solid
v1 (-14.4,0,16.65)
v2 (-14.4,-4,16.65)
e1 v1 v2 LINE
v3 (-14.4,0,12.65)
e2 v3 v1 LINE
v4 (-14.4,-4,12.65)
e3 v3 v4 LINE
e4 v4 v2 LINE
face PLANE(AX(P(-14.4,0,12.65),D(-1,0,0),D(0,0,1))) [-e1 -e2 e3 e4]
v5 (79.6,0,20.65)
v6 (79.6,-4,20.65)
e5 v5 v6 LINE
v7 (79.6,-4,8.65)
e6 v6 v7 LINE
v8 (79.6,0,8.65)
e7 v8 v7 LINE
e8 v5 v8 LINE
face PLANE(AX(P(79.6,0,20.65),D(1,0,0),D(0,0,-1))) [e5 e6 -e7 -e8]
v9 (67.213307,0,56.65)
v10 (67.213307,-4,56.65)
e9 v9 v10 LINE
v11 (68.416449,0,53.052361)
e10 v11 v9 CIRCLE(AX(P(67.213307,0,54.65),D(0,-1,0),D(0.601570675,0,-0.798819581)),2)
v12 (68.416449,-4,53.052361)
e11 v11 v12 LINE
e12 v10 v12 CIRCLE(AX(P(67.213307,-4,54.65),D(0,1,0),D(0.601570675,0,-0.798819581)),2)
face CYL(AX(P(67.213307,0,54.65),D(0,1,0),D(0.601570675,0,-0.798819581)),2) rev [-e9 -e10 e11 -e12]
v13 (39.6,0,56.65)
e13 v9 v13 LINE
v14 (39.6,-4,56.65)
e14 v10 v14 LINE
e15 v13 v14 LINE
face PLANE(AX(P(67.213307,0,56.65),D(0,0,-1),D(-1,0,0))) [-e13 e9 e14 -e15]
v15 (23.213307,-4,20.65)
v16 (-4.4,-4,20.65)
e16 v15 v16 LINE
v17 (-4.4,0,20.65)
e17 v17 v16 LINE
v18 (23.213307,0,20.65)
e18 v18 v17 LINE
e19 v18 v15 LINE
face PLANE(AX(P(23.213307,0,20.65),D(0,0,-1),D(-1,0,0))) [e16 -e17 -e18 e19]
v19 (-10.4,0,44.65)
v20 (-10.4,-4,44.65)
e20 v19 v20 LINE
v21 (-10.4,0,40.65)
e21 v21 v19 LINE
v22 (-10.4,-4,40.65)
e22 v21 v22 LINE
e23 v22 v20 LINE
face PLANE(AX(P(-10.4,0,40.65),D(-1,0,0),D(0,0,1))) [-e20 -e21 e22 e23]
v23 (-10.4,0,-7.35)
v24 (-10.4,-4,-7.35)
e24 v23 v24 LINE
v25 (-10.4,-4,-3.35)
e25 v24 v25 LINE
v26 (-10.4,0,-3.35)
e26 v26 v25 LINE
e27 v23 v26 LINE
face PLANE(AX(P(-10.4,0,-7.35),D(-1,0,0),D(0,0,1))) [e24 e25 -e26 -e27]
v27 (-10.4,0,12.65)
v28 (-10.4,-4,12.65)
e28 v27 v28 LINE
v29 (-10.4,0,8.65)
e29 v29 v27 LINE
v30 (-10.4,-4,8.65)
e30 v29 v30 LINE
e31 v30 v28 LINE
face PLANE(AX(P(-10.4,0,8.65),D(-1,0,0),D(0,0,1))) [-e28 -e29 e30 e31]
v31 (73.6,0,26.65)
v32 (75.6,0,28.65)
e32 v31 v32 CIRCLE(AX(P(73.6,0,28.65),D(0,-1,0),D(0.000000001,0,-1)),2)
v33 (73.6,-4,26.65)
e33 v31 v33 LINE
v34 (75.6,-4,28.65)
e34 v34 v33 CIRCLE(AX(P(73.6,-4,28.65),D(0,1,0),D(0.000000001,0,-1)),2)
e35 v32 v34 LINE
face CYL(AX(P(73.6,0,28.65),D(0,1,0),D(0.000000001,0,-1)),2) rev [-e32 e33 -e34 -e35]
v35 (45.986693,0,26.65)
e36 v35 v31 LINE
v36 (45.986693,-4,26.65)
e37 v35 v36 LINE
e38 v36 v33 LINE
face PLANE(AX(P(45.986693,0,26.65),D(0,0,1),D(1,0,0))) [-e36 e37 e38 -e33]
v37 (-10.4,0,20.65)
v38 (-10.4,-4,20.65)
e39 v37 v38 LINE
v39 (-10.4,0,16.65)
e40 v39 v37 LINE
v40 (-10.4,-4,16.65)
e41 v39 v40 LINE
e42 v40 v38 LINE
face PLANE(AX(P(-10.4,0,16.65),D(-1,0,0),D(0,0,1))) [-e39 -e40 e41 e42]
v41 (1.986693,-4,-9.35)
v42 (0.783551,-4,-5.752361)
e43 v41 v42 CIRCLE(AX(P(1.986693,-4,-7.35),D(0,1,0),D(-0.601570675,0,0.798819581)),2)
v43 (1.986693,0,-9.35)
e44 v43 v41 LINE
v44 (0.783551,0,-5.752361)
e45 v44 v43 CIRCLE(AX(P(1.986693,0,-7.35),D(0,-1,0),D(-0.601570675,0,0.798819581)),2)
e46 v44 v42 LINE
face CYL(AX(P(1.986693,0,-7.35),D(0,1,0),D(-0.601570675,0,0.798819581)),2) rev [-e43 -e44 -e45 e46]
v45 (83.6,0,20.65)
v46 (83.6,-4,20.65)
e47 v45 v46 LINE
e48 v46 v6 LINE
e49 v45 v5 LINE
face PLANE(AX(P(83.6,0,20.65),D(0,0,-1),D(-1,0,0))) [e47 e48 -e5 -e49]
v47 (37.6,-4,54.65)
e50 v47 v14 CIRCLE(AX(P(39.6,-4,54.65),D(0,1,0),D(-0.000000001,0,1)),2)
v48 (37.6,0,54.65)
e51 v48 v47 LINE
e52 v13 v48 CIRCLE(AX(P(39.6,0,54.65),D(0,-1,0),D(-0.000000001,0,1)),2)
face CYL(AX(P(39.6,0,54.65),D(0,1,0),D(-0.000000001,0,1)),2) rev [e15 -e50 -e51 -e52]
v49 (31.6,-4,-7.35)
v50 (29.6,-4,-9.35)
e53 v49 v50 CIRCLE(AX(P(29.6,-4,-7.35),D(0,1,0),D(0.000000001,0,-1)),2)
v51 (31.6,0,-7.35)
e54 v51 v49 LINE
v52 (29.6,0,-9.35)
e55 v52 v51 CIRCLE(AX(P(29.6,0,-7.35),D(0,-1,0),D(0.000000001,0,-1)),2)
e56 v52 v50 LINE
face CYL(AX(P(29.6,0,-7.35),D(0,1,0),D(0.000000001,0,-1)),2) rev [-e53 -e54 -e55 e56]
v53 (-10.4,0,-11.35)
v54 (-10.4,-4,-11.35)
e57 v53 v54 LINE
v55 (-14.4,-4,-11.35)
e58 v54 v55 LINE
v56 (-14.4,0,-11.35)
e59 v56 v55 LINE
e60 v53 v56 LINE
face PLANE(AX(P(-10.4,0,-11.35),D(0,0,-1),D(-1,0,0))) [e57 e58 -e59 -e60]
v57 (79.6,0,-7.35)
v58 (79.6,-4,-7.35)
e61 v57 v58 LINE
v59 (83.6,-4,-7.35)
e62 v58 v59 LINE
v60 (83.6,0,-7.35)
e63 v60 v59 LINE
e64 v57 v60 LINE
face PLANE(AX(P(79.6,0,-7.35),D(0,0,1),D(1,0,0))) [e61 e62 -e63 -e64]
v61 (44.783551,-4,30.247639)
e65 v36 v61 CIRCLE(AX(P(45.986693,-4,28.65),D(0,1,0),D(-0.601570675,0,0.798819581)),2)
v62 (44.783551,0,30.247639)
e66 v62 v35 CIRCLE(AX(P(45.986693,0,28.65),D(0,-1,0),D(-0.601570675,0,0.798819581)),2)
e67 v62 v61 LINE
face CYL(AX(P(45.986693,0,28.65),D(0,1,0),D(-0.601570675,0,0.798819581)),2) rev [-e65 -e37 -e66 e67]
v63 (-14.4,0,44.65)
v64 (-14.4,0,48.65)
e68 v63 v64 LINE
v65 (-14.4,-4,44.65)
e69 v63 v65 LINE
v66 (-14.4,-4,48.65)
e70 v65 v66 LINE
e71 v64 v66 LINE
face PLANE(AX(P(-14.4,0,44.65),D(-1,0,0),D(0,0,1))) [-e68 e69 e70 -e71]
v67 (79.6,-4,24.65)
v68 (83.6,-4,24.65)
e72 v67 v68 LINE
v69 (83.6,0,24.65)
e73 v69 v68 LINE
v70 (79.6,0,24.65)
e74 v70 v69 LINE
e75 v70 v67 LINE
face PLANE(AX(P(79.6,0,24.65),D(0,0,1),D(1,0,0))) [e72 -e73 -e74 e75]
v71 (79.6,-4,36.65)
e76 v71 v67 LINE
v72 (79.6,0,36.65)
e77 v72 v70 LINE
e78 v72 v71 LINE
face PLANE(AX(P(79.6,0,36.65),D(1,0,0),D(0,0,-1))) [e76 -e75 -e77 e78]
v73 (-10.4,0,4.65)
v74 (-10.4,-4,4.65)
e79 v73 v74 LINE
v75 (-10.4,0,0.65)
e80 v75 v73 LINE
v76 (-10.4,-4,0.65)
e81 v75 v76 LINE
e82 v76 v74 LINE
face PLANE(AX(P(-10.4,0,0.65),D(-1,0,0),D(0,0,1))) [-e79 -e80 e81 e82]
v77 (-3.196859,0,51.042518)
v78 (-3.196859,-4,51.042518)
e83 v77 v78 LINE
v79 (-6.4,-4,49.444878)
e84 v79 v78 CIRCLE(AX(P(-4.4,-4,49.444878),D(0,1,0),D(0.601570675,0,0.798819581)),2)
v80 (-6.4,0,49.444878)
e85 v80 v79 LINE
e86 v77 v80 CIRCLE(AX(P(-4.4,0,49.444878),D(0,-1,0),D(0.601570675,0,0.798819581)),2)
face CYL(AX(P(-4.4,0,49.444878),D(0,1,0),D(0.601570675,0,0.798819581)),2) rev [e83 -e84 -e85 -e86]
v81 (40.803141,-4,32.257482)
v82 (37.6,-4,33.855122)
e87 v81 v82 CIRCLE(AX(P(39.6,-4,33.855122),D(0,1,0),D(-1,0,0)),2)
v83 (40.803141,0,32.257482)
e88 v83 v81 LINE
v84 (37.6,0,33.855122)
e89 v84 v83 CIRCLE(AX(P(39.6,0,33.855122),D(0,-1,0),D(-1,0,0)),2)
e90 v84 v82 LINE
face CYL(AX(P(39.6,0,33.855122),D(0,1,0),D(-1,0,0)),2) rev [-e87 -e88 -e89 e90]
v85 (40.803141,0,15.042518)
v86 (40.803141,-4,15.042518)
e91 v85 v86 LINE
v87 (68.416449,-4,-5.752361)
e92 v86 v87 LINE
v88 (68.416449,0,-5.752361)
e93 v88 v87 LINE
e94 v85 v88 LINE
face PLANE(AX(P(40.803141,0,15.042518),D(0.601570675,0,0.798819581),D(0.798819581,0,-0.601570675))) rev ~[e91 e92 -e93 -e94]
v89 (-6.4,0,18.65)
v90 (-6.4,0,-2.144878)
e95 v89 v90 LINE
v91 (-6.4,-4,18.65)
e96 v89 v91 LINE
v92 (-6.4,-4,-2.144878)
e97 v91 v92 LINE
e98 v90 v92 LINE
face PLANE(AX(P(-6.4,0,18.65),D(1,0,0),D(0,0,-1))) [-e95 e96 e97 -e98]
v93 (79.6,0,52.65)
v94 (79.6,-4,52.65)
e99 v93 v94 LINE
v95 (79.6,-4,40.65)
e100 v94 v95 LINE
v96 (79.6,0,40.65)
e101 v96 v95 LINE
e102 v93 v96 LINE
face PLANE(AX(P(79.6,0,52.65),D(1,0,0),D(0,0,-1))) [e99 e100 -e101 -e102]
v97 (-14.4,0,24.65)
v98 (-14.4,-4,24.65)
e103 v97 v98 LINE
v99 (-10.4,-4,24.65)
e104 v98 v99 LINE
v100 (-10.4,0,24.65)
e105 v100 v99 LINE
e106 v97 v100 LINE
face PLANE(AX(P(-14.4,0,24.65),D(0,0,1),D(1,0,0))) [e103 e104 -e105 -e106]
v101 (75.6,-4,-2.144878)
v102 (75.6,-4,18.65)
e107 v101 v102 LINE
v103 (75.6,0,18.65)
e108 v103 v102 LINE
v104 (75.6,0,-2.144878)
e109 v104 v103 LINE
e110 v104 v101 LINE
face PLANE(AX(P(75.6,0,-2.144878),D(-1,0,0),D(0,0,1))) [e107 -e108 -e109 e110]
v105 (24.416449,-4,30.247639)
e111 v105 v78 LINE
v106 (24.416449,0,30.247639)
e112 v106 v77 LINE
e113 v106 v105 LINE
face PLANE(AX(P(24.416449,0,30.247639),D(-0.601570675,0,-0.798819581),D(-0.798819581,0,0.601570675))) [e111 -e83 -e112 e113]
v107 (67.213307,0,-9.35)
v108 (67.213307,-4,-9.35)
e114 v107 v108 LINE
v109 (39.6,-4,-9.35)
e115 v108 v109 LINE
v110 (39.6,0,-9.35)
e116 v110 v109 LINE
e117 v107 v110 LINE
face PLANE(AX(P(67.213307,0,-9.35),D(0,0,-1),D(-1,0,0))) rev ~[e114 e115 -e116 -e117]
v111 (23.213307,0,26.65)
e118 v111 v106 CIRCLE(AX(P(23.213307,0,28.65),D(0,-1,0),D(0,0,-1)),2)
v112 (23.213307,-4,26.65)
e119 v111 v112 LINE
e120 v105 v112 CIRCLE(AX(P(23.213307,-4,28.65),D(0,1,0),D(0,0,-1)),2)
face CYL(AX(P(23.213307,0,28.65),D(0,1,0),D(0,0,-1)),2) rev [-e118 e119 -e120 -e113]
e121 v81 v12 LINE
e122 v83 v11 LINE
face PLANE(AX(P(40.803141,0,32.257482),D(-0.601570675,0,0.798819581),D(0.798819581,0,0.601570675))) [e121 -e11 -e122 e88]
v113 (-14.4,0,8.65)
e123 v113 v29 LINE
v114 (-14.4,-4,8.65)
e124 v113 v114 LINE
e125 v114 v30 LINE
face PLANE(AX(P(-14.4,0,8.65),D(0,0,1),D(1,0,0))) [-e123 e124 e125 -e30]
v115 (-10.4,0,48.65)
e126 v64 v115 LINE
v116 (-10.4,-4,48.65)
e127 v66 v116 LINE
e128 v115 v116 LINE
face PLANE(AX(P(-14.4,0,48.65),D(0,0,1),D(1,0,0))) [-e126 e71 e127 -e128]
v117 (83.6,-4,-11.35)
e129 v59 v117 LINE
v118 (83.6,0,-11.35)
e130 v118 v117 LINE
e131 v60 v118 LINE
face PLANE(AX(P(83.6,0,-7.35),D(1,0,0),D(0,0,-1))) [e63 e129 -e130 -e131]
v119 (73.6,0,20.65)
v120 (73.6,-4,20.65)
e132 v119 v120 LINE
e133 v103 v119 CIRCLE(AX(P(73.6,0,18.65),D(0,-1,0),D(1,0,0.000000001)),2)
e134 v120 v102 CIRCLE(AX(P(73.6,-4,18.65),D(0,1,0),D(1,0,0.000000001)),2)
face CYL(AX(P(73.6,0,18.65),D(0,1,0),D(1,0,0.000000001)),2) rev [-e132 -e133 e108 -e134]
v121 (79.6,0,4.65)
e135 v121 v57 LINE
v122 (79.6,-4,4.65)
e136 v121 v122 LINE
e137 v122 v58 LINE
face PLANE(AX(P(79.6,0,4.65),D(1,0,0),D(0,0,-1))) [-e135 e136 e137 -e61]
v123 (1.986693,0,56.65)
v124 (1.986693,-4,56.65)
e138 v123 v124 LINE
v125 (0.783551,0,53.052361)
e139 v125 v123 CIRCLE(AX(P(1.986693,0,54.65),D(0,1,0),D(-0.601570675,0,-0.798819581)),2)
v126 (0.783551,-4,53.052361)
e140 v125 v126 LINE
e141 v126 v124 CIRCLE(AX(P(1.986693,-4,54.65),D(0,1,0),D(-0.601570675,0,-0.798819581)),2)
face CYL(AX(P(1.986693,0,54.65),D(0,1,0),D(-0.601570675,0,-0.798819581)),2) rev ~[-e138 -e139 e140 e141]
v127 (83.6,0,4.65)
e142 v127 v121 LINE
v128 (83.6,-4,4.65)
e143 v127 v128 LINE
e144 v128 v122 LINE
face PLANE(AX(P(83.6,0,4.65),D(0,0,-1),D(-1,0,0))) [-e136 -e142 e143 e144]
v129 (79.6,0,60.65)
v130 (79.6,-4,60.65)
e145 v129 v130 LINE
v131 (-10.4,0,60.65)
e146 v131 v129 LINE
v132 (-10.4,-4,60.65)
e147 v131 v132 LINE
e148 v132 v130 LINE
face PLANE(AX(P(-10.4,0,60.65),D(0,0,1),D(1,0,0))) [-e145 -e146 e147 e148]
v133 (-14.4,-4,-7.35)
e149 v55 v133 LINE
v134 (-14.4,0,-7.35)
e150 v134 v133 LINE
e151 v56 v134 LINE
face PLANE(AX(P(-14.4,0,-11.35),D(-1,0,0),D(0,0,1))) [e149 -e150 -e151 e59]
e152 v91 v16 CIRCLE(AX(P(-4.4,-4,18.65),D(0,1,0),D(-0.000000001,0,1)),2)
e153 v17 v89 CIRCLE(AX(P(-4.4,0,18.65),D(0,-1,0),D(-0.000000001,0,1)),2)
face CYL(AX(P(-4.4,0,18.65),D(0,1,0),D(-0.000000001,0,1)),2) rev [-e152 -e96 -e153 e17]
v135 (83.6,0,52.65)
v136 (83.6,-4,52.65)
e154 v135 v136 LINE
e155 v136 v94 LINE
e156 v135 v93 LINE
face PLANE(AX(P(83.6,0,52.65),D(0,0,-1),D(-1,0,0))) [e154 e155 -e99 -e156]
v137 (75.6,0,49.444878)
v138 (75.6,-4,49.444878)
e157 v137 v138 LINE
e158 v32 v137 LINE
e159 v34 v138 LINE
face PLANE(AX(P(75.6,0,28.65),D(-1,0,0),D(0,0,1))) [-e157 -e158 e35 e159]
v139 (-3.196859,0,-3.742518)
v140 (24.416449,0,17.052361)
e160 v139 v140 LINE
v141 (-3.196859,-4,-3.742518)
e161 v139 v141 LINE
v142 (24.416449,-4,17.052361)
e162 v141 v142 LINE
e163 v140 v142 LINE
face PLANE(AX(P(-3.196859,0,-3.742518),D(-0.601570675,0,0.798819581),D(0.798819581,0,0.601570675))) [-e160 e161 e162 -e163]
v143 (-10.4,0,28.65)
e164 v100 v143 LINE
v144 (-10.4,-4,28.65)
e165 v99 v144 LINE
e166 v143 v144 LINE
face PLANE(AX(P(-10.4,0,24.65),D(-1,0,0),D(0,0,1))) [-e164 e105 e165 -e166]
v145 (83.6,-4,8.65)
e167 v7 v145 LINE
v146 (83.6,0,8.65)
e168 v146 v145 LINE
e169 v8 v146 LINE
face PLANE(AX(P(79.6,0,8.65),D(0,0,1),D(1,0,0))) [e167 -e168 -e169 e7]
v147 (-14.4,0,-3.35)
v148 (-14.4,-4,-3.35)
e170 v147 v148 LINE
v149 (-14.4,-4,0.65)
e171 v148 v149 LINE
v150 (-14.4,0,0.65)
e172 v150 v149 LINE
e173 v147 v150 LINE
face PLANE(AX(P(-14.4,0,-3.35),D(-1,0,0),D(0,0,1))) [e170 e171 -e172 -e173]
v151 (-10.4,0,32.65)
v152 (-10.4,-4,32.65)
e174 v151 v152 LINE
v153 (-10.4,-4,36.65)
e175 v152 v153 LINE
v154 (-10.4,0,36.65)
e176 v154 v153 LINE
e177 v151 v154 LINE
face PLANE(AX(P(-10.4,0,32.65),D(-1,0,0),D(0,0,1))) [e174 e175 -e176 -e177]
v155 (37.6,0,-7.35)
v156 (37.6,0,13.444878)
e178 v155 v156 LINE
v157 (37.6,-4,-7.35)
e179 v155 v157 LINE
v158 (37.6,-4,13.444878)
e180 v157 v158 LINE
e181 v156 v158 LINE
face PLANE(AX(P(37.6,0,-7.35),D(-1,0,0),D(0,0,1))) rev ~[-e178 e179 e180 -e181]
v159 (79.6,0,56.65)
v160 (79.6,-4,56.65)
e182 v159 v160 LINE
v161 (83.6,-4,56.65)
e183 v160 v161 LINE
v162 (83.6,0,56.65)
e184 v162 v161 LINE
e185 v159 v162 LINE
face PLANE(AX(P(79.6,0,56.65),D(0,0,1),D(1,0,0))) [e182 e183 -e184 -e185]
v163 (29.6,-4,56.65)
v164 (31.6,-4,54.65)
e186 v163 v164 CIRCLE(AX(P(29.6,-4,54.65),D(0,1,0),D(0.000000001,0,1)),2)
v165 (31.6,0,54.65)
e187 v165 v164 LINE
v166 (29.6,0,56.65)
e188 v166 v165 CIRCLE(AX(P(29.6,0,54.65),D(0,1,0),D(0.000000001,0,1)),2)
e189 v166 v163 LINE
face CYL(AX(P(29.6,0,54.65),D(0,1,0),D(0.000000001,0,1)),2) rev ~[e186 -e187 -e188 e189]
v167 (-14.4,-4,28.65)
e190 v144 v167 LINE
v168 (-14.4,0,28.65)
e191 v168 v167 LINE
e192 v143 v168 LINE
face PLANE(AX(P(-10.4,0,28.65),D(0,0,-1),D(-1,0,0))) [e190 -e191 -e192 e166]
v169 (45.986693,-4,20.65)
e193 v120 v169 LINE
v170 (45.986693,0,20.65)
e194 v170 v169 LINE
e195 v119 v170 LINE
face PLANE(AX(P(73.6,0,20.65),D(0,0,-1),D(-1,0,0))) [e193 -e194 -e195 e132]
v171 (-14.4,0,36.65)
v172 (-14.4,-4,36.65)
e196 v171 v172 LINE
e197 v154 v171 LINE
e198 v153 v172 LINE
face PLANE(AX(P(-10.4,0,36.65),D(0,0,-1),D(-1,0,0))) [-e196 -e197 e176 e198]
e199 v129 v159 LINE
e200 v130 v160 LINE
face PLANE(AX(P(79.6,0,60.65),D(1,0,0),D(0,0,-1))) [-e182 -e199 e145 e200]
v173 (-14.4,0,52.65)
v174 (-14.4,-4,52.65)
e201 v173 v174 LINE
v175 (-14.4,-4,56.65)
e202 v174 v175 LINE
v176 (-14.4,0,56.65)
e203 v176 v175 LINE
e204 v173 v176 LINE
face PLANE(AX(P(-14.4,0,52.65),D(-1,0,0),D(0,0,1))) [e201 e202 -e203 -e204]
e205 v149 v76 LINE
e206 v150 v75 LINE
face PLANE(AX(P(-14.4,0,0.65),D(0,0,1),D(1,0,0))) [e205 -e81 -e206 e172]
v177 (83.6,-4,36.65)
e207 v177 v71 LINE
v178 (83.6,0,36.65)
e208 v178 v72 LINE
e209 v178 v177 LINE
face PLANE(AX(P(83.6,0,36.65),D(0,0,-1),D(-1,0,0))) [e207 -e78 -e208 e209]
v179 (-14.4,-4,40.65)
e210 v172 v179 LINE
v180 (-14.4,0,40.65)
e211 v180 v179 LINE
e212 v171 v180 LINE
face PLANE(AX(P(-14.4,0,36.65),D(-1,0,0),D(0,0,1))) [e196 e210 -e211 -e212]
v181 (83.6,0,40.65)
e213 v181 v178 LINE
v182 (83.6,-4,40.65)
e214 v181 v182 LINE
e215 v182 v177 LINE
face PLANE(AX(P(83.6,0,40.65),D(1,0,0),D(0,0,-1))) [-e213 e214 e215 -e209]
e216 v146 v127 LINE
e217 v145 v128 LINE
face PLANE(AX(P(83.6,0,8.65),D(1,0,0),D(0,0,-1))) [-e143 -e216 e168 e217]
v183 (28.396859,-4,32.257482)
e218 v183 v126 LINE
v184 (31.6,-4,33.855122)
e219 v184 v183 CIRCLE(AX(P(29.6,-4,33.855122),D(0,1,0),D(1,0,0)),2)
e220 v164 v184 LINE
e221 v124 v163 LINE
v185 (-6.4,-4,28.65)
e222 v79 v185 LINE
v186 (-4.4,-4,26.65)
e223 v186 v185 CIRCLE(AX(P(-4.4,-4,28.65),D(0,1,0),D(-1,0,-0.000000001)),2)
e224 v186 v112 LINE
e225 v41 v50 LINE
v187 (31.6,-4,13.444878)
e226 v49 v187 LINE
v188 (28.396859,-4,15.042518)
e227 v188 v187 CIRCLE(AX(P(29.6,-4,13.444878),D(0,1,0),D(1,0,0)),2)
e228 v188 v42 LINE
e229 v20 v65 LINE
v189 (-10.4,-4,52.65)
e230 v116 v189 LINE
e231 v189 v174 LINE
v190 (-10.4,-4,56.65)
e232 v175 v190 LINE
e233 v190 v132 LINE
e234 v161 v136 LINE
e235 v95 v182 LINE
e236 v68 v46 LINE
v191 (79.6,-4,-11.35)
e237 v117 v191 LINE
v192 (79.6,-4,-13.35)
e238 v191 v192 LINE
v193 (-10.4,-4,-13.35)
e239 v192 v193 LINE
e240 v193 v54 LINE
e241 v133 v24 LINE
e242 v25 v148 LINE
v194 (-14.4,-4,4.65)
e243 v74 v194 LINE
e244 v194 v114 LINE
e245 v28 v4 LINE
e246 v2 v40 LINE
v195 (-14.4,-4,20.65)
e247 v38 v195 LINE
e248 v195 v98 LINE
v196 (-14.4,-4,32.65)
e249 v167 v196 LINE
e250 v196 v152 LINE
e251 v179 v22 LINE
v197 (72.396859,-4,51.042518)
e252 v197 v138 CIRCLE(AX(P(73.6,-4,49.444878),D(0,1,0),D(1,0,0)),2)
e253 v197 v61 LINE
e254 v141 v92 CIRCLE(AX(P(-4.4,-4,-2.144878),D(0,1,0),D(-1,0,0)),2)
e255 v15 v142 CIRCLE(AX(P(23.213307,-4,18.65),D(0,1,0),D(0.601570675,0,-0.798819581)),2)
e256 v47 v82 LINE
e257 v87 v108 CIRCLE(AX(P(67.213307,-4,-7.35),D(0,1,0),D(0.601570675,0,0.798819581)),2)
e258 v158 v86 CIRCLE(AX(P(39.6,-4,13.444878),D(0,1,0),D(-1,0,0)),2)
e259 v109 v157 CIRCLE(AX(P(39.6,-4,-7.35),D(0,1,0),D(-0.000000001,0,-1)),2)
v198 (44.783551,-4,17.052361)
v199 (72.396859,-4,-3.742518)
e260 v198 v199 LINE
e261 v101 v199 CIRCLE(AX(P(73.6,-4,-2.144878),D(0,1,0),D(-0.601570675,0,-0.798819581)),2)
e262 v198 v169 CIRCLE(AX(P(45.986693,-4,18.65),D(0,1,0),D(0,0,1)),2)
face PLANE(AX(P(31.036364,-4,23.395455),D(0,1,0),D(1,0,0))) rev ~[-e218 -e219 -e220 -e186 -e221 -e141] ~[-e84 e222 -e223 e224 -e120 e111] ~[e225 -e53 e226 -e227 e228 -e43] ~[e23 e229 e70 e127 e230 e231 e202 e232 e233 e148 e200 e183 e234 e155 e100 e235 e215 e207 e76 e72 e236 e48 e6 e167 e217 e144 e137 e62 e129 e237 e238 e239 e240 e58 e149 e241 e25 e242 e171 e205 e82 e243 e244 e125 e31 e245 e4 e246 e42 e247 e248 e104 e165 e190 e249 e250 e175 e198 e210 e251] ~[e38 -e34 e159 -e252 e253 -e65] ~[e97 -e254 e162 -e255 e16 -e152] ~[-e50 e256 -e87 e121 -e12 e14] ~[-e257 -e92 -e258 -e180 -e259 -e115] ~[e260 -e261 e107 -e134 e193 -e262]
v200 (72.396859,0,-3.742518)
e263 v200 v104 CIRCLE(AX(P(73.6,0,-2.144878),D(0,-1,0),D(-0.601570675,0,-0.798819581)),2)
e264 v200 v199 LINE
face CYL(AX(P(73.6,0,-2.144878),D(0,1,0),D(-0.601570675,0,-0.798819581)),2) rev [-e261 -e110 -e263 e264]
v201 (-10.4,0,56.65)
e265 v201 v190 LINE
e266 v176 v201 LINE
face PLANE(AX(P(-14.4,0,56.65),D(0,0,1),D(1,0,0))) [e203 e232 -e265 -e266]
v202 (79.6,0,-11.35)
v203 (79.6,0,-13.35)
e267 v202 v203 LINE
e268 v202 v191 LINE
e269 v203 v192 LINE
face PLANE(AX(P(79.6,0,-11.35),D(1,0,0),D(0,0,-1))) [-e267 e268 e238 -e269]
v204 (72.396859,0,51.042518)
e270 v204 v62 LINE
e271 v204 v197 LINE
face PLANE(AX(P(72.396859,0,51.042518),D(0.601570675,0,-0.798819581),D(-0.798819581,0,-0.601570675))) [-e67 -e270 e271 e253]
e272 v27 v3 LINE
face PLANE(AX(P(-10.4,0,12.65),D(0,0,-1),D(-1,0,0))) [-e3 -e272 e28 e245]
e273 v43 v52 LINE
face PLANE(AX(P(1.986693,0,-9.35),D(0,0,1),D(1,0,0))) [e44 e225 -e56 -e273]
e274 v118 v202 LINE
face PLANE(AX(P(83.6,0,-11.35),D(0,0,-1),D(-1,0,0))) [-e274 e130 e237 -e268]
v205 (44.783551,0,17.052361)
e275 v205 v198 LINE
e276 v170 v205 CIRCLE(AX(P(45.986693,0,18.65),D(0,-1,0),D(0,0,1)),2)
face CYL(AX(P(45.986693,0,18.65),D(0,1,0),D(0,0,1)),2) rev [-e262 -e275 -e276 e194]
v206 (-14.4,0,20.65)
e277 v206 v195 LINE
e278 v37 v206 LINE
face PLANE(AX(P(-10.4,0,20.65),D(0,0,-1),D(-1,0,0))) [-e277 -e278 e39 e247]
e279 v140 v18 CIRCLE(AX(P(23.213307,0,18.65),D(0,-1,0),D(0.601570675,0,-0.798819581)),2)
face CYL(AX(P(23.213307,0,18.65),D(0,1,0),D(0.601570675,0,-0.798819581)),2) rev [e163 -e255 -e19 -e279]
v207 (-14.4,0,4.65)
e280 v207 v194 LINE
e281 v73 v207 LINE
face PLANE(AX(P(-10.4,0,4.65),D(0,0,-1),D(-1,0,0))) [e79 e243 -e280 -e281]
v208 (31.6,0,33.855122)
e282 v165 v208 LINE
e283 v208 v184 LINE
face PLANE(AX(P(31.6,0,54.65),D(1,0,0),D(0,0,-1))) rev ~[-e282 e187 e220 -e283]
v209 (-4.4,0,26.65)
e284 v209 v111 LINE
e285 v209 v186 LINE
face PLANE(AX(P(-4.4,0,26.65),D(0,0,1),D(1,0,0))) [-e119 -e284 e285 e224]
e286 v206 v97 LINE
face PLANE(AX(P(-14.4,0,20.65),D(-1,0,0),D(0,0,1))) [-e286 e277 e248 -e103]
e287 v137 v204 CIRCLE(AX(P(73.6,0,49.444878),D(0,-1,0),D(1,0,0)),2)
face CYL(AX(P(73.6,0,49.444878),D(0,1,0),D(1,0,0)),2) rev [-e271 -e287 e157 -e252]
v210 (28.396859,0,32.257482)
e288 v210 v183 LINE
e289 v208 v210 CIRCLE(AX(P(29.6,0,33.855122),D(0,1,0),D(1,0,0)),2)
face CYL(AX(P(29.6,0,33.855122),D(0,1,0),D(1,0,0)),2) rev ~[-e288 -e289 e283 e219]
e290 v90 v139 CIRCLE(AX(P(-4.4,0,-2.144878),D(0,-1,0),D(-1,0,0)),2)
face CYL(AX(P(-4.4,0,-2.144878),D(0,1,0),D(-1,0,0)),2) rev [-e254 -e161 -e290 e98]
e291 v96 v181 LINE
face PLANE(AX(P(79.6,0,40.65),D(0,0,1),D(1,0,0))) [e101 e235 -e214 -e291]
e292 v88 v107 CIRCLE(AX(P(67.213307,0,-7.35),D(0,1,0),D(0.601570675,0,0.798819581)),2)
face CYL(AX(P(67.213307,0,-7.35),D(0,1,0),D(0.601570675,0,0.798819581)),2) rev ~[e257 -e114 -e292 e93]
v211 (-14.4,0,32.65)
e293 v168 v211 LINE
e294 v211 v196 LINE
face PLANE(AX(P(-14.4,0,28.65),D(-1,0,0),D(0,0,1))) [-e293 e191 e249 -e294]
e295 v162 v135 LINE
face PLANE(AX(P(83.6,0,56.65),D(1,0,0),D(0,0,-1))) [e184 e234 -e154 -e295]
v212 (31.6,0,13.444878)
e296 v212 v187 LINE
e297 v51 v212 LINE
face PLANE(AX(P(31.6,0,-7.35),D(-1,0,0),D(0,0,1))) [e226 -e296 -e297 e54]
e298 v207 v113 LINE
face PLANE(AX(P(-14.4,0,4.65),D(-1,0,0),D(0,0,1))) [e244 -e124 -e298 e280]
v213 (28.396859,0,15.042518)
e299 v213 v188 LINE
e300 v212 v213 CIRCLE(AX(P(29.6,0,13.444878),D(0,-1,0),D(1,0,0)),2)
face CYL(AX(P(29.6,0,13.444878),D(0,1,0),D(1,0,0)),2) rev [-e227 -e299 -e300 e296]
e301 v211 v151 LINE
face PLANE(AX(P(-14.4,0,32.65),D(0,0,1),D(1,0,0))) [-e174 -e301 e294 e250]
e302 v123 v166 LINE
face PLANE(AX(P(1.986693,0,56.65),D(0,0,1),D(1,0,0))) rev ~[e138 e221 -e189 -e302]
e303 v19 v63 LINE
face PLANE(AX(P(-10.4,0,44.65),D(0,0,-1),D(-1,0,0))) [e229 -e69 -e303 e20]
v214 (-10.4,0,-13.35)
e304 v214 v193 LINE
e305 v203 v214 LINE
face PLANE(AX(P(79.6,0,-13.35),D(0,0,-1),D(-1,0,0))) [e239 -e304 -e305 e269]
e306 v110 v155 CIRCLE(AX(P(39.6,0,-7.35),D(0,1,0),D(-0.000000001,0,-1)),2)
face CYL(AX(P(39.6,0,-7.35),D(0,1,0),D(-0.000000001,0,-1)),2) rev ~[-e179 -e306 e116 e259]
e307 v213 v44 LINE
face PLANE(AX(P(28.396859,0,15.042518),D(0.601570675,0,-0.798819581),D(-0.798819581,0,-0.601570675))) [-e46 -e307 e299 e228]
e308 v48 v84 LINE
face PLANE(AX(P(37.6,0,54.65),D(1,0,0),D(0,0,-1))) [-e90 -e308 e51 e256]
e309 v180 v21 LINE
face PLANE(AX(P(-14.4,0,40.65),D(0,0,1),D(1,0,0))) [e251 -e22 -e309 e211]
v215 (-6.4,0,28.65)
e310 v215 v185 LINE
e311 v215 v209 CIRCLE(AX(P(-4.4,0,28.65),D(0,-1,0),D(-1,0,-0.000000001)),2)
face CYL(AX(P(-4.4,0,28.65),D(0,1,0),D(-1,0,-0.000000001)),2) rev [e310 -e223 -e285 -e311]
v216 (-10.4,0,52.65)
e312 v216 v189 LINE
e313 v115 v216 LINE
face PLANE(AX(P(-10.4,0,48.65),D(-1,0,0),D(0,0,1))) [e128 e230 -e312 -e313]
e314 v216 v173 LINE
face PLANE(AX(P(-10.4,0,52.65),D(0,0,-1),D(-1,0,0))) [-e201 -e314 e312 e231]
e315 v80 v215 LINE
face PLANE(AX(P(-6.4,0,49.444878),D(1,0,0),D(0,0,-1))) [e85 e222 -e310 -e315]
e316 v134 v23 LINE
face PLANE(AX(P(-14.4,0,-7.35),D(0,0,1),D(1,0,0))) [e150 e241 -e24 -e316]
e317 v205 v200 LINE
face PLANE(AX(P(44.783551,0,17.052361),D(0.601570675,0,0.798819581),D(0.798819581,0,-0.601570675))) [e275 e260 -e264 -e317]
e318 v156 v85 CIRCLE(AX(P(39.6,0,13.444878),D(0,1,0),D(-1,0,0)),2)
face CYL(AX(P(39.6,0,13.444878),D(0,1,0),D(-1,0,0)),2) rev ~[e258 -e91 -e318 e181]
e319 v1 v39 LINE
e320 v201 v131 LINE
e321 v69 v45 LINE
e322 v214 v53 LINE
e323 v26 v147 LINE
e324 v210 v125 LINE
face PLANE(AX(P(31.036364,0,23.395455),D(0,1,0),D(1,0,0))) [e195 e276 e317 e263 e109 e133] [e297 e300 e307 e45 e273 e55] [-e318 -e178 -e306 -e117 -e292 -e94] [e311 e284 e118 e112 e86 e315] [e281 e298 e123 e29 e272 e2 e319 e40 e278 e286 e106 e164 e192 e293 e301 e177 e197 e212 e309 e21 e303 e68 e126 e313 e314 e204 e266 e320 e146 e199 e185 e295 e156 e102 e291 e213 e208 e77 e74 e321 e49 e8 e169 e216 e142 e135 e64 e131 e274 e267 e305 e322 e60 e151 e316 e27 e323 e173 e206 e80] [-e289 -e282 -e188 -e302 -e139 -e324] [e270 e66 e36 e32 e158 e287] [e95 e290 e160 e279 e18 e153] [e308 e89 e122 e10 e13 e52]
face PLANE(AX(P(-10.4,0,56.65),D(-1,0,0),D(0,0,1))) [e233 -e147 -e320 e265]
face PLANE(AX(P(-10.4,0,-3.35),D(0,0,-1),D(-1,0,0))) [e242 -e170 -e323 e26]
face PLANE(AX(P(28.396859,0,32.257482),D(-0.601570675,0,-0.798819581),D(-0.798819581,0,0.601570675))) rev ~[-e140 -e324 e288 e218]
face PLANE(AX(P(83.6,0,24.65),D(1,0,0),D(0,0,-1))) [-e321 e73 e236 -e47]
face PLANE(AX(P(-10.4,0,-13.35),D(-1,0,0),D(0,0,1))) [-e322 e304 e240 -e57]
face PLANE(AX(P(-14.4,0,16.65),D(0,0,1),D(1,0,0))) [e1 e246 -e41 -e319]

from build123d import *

# Parameters (mm, degrees)
BOSS_EXTRUDE1_DEPTH = 4
CUT_EXTRUDE1_DEPTH  = 10


with BuildPart() as part:
    # Sketch1 → Boss-Extrude1 (new body)
    with BuildSketch(Plane(origin=(0, 0, 0), x_dir=(1, 0, 0), z_dir=(0, 1, 0))):
        Polygon((-10.4, 13.35), (-10.4, 11.35), (-14.4, 11.35), (-14.4, 7.35), (-10.4, 7.35), (-10.4, 3.35), (-14.4, 3.35), (-14.4, -0.65), (-10.4, -0.65), (-10.4, -4.65), (-14.4, -4.65), (-14.4, -8.65), (-10.4, -8.65), (-10.4, -12.65), (-14.4, -12.65), (-14.4, -16.65), (-10.4, -16.65), (-10.4, -20.65), (-14.4, -20.65), (-14.4, -24.65), (-10.4, -24.65), (-10.4, -28.65), (-14.4, -28.65), (-14.4, -32.65), (-10.4, -32.65), (-10.4, -36.65), (-14.4, -36.65), (-14.4, -40.65), (-10.4, -40.65), (-10.4, -44.65), (-14.4, -44.65), (-14.4, -48.65), (-10.4, -48.65), (-10.4, -52.65), (-14.4, -52.65), (-14.4, -56.65), (-10.4, -56.65), (-10.4, -60.65), (79.6, -60.65), (79.6, -56.65), (83.6, -56.65), (83.6, -52.65), (79.6, -52.65), (79.6, -40.65), (83.6, -40.65), (83.6, -36.65), (79.6, -36.65), (79.6, -24.65), (83.6, -24.65), (83.6, -20.65), (79.6, -20.65), (79.6, -8.65), (83.6, -8.65), (83.6, -4.65), (79.6, -4.65), (79.6, 7.35), (83.6, 7.35), (83.6, 11.35), (79.6, 11.35), (79.6, 13.35), align=None)
    extrude(amount=-BOSS_EXTRUDE1_DEPTH)

    # Sketch2 → Cut-Extrude1 (cut)
    with BuildSketch(Plane(origin=(0, 0, 0), x_dir=(1, 0, 0), z_dir=(0, 1, 0))):
        with BuildLine():
            Line((1.986692504, 9.35), (29.6, 9.35))
            ThreePointArc((29.6, 9.35), (31.014213562, 8.764213562), (31.6, 7.35))
            Line((31.6, 7.35), (31.6, -13.44487837))
            ThreePointArc((31.6, -13.44487837), (30.492669396, -15.23461057), (28.39685865, -15.042517532))
            Line((28.39685865, -15.042517532), (0.783551154, 5.752360838))
            ThreePointArc((0.783551154, 5.752360838), (0.089948145, 7.984319192), (1.986692504, 9.35))
        make_face()
        with BuildLine():
            ThreePointArc((-6.4, 2.14487837), (-5.292669396, 3.93461057), (-3.19685865, 3.742517532))
            Line((-3.19685865, 3.742517532), (24.416448846, -17.052360838))
            ThreePointArc((24.416448846, -17.052360838), (25.110051855, -19.284319192), (23.213307496, -20.65))
            Line((23.213307496, -20.65), (-4.4, -20.65))
            ThreePointArc((-4.4, -20.65), (-5.814213562, -20.064213562), (-6.4, -18.65))
            Line((-6.4, -18.65), (-6.4, 2.14487837))
        make_face()
        with BuildLine():
            Line((37.6, 7.35), (37.6, -13.44487837))
            ThreePointArc((37.6, -13.44487837), (38.707330604, -15.23461057), (40.80314135, -15.042517532))
            Line((40.80314135, -15.042517532), (68.416448846, 5.752360838))
            ThreePointArc((68.416448846, 5.752360838), (69.110051855, 7.984319192), (67.213307496, 9.35))
            Line((67.213307496, 9.35), (39.6, 9.35))
            ThreePointArc((39.6, 9.35), (38.185786438, 8.764213562), (37.6, 7.35))
        make_face()
        with BuildLine():
            ThreePointArc((75.6, -18.65), (75.014213562, -20.064213562), (73.6, -20.65))
            Line((73.6, -20.65), (45.986692504, -20.65))
            ThreePointArc((45.986692504, -20.65), (44.089948145, -19.284319192), (44.783551154, -17.052360838))
            Line((44.783551154, -17.052360838), (72.39685865, 3.742517532))
            ThreePointArc((72.39685865, 3.742517532), (74.492669396, 3.93461057), (75.6, 2.14487837))
            Line((75.6, 2.14487837), (75.6, -18.65))
        make_face()
        with BuildLine():
            ThreePointArc((75.6, -49.44487837), (74.492669396, -51.23461057), (72.39685865, -51.042517532))
            Line((72.39685865, -51.042517532), (44.783551154, -30.247639162))
            ThreePointArc((44.783551154, -30.247639162), (44.089948145, -28.015680808), (45.986692504, -26.65))
            Line((45.986692504, -26.65), (73.6, -26.65))
            ThreePointArc((73.6, -26.65), (75.014213562, -27.235786438), (75.6, -28.65))
            Line((75.6, -28.65), (75.6, -49.44487837))
        make_face()
        with BuildLine():
            Line((67.213307496, -56.65), (39.6, -56.65))
            ThreePointArc((39.6, -56.65), (38.185786438, -56.064213562), (37.6, -54.65))
            Line((37.6, -54.65), (37.6, -33.85512163))
            ThreePointArc((37.6, -33.85512163), (38.707330604, -32.06538943), (40.80314135, -32.257482468))
            Line((40.80314135, -32.257482468), (68.416448846, -53.052360838))
            ThreePointArc((68.416448846, -53.052360838), (69.110051855, -55.284319192), (67.213307496, -56.65))
        make_face()
        with BuildLine():
            Line((31.6, -54.65), (31.6, -33.85512163))
            ThreePointArc((31.6, -33.85512163), (30.492669396, -32.06538943), (28.39685865, -32.257482468))
            Line((28.39685865, -32.257482468), (0.783551154, -53.052360838))
            ThreePointArc((0.783551154, -53.052360838), (0.089948145, -55.284319192), (1.986692504, -56.65))
            Line((1.986692504, -56.65), (29.6, -56.65))
            ThreePointArc((29.6, -56.65), (31.014213562, -56.064213562), (31.6, -54.65))
        make_face()
        with BuildLine():
            ThreePointArc((-6.4, -28.65), (-5.814213562, -27.235786438), (-4.4, -26.65))
            Line((-4.4, -26.65), (23.213307496, -26.65))
            ThreePointArc((23.213307496, -26.65), (25.110051855, -28.015680808), (24.416448846, -30.247639162))
            Line((24.416448846, -30.247639162), (-3.19685865, -51.042517532))
            ThreePointArc((-3.19685865, -51.042517532), (-5.292669396, -51.23461057), (-6.4, -49.44487837))
            Line((-6.4, -49.44487837), (-6.4, -28.65))
        make_face()
    extrude(amount=-CUT_EXTRUDE1_DEPTH, mode=Mode.SUBTRACT)


solid = part.part
